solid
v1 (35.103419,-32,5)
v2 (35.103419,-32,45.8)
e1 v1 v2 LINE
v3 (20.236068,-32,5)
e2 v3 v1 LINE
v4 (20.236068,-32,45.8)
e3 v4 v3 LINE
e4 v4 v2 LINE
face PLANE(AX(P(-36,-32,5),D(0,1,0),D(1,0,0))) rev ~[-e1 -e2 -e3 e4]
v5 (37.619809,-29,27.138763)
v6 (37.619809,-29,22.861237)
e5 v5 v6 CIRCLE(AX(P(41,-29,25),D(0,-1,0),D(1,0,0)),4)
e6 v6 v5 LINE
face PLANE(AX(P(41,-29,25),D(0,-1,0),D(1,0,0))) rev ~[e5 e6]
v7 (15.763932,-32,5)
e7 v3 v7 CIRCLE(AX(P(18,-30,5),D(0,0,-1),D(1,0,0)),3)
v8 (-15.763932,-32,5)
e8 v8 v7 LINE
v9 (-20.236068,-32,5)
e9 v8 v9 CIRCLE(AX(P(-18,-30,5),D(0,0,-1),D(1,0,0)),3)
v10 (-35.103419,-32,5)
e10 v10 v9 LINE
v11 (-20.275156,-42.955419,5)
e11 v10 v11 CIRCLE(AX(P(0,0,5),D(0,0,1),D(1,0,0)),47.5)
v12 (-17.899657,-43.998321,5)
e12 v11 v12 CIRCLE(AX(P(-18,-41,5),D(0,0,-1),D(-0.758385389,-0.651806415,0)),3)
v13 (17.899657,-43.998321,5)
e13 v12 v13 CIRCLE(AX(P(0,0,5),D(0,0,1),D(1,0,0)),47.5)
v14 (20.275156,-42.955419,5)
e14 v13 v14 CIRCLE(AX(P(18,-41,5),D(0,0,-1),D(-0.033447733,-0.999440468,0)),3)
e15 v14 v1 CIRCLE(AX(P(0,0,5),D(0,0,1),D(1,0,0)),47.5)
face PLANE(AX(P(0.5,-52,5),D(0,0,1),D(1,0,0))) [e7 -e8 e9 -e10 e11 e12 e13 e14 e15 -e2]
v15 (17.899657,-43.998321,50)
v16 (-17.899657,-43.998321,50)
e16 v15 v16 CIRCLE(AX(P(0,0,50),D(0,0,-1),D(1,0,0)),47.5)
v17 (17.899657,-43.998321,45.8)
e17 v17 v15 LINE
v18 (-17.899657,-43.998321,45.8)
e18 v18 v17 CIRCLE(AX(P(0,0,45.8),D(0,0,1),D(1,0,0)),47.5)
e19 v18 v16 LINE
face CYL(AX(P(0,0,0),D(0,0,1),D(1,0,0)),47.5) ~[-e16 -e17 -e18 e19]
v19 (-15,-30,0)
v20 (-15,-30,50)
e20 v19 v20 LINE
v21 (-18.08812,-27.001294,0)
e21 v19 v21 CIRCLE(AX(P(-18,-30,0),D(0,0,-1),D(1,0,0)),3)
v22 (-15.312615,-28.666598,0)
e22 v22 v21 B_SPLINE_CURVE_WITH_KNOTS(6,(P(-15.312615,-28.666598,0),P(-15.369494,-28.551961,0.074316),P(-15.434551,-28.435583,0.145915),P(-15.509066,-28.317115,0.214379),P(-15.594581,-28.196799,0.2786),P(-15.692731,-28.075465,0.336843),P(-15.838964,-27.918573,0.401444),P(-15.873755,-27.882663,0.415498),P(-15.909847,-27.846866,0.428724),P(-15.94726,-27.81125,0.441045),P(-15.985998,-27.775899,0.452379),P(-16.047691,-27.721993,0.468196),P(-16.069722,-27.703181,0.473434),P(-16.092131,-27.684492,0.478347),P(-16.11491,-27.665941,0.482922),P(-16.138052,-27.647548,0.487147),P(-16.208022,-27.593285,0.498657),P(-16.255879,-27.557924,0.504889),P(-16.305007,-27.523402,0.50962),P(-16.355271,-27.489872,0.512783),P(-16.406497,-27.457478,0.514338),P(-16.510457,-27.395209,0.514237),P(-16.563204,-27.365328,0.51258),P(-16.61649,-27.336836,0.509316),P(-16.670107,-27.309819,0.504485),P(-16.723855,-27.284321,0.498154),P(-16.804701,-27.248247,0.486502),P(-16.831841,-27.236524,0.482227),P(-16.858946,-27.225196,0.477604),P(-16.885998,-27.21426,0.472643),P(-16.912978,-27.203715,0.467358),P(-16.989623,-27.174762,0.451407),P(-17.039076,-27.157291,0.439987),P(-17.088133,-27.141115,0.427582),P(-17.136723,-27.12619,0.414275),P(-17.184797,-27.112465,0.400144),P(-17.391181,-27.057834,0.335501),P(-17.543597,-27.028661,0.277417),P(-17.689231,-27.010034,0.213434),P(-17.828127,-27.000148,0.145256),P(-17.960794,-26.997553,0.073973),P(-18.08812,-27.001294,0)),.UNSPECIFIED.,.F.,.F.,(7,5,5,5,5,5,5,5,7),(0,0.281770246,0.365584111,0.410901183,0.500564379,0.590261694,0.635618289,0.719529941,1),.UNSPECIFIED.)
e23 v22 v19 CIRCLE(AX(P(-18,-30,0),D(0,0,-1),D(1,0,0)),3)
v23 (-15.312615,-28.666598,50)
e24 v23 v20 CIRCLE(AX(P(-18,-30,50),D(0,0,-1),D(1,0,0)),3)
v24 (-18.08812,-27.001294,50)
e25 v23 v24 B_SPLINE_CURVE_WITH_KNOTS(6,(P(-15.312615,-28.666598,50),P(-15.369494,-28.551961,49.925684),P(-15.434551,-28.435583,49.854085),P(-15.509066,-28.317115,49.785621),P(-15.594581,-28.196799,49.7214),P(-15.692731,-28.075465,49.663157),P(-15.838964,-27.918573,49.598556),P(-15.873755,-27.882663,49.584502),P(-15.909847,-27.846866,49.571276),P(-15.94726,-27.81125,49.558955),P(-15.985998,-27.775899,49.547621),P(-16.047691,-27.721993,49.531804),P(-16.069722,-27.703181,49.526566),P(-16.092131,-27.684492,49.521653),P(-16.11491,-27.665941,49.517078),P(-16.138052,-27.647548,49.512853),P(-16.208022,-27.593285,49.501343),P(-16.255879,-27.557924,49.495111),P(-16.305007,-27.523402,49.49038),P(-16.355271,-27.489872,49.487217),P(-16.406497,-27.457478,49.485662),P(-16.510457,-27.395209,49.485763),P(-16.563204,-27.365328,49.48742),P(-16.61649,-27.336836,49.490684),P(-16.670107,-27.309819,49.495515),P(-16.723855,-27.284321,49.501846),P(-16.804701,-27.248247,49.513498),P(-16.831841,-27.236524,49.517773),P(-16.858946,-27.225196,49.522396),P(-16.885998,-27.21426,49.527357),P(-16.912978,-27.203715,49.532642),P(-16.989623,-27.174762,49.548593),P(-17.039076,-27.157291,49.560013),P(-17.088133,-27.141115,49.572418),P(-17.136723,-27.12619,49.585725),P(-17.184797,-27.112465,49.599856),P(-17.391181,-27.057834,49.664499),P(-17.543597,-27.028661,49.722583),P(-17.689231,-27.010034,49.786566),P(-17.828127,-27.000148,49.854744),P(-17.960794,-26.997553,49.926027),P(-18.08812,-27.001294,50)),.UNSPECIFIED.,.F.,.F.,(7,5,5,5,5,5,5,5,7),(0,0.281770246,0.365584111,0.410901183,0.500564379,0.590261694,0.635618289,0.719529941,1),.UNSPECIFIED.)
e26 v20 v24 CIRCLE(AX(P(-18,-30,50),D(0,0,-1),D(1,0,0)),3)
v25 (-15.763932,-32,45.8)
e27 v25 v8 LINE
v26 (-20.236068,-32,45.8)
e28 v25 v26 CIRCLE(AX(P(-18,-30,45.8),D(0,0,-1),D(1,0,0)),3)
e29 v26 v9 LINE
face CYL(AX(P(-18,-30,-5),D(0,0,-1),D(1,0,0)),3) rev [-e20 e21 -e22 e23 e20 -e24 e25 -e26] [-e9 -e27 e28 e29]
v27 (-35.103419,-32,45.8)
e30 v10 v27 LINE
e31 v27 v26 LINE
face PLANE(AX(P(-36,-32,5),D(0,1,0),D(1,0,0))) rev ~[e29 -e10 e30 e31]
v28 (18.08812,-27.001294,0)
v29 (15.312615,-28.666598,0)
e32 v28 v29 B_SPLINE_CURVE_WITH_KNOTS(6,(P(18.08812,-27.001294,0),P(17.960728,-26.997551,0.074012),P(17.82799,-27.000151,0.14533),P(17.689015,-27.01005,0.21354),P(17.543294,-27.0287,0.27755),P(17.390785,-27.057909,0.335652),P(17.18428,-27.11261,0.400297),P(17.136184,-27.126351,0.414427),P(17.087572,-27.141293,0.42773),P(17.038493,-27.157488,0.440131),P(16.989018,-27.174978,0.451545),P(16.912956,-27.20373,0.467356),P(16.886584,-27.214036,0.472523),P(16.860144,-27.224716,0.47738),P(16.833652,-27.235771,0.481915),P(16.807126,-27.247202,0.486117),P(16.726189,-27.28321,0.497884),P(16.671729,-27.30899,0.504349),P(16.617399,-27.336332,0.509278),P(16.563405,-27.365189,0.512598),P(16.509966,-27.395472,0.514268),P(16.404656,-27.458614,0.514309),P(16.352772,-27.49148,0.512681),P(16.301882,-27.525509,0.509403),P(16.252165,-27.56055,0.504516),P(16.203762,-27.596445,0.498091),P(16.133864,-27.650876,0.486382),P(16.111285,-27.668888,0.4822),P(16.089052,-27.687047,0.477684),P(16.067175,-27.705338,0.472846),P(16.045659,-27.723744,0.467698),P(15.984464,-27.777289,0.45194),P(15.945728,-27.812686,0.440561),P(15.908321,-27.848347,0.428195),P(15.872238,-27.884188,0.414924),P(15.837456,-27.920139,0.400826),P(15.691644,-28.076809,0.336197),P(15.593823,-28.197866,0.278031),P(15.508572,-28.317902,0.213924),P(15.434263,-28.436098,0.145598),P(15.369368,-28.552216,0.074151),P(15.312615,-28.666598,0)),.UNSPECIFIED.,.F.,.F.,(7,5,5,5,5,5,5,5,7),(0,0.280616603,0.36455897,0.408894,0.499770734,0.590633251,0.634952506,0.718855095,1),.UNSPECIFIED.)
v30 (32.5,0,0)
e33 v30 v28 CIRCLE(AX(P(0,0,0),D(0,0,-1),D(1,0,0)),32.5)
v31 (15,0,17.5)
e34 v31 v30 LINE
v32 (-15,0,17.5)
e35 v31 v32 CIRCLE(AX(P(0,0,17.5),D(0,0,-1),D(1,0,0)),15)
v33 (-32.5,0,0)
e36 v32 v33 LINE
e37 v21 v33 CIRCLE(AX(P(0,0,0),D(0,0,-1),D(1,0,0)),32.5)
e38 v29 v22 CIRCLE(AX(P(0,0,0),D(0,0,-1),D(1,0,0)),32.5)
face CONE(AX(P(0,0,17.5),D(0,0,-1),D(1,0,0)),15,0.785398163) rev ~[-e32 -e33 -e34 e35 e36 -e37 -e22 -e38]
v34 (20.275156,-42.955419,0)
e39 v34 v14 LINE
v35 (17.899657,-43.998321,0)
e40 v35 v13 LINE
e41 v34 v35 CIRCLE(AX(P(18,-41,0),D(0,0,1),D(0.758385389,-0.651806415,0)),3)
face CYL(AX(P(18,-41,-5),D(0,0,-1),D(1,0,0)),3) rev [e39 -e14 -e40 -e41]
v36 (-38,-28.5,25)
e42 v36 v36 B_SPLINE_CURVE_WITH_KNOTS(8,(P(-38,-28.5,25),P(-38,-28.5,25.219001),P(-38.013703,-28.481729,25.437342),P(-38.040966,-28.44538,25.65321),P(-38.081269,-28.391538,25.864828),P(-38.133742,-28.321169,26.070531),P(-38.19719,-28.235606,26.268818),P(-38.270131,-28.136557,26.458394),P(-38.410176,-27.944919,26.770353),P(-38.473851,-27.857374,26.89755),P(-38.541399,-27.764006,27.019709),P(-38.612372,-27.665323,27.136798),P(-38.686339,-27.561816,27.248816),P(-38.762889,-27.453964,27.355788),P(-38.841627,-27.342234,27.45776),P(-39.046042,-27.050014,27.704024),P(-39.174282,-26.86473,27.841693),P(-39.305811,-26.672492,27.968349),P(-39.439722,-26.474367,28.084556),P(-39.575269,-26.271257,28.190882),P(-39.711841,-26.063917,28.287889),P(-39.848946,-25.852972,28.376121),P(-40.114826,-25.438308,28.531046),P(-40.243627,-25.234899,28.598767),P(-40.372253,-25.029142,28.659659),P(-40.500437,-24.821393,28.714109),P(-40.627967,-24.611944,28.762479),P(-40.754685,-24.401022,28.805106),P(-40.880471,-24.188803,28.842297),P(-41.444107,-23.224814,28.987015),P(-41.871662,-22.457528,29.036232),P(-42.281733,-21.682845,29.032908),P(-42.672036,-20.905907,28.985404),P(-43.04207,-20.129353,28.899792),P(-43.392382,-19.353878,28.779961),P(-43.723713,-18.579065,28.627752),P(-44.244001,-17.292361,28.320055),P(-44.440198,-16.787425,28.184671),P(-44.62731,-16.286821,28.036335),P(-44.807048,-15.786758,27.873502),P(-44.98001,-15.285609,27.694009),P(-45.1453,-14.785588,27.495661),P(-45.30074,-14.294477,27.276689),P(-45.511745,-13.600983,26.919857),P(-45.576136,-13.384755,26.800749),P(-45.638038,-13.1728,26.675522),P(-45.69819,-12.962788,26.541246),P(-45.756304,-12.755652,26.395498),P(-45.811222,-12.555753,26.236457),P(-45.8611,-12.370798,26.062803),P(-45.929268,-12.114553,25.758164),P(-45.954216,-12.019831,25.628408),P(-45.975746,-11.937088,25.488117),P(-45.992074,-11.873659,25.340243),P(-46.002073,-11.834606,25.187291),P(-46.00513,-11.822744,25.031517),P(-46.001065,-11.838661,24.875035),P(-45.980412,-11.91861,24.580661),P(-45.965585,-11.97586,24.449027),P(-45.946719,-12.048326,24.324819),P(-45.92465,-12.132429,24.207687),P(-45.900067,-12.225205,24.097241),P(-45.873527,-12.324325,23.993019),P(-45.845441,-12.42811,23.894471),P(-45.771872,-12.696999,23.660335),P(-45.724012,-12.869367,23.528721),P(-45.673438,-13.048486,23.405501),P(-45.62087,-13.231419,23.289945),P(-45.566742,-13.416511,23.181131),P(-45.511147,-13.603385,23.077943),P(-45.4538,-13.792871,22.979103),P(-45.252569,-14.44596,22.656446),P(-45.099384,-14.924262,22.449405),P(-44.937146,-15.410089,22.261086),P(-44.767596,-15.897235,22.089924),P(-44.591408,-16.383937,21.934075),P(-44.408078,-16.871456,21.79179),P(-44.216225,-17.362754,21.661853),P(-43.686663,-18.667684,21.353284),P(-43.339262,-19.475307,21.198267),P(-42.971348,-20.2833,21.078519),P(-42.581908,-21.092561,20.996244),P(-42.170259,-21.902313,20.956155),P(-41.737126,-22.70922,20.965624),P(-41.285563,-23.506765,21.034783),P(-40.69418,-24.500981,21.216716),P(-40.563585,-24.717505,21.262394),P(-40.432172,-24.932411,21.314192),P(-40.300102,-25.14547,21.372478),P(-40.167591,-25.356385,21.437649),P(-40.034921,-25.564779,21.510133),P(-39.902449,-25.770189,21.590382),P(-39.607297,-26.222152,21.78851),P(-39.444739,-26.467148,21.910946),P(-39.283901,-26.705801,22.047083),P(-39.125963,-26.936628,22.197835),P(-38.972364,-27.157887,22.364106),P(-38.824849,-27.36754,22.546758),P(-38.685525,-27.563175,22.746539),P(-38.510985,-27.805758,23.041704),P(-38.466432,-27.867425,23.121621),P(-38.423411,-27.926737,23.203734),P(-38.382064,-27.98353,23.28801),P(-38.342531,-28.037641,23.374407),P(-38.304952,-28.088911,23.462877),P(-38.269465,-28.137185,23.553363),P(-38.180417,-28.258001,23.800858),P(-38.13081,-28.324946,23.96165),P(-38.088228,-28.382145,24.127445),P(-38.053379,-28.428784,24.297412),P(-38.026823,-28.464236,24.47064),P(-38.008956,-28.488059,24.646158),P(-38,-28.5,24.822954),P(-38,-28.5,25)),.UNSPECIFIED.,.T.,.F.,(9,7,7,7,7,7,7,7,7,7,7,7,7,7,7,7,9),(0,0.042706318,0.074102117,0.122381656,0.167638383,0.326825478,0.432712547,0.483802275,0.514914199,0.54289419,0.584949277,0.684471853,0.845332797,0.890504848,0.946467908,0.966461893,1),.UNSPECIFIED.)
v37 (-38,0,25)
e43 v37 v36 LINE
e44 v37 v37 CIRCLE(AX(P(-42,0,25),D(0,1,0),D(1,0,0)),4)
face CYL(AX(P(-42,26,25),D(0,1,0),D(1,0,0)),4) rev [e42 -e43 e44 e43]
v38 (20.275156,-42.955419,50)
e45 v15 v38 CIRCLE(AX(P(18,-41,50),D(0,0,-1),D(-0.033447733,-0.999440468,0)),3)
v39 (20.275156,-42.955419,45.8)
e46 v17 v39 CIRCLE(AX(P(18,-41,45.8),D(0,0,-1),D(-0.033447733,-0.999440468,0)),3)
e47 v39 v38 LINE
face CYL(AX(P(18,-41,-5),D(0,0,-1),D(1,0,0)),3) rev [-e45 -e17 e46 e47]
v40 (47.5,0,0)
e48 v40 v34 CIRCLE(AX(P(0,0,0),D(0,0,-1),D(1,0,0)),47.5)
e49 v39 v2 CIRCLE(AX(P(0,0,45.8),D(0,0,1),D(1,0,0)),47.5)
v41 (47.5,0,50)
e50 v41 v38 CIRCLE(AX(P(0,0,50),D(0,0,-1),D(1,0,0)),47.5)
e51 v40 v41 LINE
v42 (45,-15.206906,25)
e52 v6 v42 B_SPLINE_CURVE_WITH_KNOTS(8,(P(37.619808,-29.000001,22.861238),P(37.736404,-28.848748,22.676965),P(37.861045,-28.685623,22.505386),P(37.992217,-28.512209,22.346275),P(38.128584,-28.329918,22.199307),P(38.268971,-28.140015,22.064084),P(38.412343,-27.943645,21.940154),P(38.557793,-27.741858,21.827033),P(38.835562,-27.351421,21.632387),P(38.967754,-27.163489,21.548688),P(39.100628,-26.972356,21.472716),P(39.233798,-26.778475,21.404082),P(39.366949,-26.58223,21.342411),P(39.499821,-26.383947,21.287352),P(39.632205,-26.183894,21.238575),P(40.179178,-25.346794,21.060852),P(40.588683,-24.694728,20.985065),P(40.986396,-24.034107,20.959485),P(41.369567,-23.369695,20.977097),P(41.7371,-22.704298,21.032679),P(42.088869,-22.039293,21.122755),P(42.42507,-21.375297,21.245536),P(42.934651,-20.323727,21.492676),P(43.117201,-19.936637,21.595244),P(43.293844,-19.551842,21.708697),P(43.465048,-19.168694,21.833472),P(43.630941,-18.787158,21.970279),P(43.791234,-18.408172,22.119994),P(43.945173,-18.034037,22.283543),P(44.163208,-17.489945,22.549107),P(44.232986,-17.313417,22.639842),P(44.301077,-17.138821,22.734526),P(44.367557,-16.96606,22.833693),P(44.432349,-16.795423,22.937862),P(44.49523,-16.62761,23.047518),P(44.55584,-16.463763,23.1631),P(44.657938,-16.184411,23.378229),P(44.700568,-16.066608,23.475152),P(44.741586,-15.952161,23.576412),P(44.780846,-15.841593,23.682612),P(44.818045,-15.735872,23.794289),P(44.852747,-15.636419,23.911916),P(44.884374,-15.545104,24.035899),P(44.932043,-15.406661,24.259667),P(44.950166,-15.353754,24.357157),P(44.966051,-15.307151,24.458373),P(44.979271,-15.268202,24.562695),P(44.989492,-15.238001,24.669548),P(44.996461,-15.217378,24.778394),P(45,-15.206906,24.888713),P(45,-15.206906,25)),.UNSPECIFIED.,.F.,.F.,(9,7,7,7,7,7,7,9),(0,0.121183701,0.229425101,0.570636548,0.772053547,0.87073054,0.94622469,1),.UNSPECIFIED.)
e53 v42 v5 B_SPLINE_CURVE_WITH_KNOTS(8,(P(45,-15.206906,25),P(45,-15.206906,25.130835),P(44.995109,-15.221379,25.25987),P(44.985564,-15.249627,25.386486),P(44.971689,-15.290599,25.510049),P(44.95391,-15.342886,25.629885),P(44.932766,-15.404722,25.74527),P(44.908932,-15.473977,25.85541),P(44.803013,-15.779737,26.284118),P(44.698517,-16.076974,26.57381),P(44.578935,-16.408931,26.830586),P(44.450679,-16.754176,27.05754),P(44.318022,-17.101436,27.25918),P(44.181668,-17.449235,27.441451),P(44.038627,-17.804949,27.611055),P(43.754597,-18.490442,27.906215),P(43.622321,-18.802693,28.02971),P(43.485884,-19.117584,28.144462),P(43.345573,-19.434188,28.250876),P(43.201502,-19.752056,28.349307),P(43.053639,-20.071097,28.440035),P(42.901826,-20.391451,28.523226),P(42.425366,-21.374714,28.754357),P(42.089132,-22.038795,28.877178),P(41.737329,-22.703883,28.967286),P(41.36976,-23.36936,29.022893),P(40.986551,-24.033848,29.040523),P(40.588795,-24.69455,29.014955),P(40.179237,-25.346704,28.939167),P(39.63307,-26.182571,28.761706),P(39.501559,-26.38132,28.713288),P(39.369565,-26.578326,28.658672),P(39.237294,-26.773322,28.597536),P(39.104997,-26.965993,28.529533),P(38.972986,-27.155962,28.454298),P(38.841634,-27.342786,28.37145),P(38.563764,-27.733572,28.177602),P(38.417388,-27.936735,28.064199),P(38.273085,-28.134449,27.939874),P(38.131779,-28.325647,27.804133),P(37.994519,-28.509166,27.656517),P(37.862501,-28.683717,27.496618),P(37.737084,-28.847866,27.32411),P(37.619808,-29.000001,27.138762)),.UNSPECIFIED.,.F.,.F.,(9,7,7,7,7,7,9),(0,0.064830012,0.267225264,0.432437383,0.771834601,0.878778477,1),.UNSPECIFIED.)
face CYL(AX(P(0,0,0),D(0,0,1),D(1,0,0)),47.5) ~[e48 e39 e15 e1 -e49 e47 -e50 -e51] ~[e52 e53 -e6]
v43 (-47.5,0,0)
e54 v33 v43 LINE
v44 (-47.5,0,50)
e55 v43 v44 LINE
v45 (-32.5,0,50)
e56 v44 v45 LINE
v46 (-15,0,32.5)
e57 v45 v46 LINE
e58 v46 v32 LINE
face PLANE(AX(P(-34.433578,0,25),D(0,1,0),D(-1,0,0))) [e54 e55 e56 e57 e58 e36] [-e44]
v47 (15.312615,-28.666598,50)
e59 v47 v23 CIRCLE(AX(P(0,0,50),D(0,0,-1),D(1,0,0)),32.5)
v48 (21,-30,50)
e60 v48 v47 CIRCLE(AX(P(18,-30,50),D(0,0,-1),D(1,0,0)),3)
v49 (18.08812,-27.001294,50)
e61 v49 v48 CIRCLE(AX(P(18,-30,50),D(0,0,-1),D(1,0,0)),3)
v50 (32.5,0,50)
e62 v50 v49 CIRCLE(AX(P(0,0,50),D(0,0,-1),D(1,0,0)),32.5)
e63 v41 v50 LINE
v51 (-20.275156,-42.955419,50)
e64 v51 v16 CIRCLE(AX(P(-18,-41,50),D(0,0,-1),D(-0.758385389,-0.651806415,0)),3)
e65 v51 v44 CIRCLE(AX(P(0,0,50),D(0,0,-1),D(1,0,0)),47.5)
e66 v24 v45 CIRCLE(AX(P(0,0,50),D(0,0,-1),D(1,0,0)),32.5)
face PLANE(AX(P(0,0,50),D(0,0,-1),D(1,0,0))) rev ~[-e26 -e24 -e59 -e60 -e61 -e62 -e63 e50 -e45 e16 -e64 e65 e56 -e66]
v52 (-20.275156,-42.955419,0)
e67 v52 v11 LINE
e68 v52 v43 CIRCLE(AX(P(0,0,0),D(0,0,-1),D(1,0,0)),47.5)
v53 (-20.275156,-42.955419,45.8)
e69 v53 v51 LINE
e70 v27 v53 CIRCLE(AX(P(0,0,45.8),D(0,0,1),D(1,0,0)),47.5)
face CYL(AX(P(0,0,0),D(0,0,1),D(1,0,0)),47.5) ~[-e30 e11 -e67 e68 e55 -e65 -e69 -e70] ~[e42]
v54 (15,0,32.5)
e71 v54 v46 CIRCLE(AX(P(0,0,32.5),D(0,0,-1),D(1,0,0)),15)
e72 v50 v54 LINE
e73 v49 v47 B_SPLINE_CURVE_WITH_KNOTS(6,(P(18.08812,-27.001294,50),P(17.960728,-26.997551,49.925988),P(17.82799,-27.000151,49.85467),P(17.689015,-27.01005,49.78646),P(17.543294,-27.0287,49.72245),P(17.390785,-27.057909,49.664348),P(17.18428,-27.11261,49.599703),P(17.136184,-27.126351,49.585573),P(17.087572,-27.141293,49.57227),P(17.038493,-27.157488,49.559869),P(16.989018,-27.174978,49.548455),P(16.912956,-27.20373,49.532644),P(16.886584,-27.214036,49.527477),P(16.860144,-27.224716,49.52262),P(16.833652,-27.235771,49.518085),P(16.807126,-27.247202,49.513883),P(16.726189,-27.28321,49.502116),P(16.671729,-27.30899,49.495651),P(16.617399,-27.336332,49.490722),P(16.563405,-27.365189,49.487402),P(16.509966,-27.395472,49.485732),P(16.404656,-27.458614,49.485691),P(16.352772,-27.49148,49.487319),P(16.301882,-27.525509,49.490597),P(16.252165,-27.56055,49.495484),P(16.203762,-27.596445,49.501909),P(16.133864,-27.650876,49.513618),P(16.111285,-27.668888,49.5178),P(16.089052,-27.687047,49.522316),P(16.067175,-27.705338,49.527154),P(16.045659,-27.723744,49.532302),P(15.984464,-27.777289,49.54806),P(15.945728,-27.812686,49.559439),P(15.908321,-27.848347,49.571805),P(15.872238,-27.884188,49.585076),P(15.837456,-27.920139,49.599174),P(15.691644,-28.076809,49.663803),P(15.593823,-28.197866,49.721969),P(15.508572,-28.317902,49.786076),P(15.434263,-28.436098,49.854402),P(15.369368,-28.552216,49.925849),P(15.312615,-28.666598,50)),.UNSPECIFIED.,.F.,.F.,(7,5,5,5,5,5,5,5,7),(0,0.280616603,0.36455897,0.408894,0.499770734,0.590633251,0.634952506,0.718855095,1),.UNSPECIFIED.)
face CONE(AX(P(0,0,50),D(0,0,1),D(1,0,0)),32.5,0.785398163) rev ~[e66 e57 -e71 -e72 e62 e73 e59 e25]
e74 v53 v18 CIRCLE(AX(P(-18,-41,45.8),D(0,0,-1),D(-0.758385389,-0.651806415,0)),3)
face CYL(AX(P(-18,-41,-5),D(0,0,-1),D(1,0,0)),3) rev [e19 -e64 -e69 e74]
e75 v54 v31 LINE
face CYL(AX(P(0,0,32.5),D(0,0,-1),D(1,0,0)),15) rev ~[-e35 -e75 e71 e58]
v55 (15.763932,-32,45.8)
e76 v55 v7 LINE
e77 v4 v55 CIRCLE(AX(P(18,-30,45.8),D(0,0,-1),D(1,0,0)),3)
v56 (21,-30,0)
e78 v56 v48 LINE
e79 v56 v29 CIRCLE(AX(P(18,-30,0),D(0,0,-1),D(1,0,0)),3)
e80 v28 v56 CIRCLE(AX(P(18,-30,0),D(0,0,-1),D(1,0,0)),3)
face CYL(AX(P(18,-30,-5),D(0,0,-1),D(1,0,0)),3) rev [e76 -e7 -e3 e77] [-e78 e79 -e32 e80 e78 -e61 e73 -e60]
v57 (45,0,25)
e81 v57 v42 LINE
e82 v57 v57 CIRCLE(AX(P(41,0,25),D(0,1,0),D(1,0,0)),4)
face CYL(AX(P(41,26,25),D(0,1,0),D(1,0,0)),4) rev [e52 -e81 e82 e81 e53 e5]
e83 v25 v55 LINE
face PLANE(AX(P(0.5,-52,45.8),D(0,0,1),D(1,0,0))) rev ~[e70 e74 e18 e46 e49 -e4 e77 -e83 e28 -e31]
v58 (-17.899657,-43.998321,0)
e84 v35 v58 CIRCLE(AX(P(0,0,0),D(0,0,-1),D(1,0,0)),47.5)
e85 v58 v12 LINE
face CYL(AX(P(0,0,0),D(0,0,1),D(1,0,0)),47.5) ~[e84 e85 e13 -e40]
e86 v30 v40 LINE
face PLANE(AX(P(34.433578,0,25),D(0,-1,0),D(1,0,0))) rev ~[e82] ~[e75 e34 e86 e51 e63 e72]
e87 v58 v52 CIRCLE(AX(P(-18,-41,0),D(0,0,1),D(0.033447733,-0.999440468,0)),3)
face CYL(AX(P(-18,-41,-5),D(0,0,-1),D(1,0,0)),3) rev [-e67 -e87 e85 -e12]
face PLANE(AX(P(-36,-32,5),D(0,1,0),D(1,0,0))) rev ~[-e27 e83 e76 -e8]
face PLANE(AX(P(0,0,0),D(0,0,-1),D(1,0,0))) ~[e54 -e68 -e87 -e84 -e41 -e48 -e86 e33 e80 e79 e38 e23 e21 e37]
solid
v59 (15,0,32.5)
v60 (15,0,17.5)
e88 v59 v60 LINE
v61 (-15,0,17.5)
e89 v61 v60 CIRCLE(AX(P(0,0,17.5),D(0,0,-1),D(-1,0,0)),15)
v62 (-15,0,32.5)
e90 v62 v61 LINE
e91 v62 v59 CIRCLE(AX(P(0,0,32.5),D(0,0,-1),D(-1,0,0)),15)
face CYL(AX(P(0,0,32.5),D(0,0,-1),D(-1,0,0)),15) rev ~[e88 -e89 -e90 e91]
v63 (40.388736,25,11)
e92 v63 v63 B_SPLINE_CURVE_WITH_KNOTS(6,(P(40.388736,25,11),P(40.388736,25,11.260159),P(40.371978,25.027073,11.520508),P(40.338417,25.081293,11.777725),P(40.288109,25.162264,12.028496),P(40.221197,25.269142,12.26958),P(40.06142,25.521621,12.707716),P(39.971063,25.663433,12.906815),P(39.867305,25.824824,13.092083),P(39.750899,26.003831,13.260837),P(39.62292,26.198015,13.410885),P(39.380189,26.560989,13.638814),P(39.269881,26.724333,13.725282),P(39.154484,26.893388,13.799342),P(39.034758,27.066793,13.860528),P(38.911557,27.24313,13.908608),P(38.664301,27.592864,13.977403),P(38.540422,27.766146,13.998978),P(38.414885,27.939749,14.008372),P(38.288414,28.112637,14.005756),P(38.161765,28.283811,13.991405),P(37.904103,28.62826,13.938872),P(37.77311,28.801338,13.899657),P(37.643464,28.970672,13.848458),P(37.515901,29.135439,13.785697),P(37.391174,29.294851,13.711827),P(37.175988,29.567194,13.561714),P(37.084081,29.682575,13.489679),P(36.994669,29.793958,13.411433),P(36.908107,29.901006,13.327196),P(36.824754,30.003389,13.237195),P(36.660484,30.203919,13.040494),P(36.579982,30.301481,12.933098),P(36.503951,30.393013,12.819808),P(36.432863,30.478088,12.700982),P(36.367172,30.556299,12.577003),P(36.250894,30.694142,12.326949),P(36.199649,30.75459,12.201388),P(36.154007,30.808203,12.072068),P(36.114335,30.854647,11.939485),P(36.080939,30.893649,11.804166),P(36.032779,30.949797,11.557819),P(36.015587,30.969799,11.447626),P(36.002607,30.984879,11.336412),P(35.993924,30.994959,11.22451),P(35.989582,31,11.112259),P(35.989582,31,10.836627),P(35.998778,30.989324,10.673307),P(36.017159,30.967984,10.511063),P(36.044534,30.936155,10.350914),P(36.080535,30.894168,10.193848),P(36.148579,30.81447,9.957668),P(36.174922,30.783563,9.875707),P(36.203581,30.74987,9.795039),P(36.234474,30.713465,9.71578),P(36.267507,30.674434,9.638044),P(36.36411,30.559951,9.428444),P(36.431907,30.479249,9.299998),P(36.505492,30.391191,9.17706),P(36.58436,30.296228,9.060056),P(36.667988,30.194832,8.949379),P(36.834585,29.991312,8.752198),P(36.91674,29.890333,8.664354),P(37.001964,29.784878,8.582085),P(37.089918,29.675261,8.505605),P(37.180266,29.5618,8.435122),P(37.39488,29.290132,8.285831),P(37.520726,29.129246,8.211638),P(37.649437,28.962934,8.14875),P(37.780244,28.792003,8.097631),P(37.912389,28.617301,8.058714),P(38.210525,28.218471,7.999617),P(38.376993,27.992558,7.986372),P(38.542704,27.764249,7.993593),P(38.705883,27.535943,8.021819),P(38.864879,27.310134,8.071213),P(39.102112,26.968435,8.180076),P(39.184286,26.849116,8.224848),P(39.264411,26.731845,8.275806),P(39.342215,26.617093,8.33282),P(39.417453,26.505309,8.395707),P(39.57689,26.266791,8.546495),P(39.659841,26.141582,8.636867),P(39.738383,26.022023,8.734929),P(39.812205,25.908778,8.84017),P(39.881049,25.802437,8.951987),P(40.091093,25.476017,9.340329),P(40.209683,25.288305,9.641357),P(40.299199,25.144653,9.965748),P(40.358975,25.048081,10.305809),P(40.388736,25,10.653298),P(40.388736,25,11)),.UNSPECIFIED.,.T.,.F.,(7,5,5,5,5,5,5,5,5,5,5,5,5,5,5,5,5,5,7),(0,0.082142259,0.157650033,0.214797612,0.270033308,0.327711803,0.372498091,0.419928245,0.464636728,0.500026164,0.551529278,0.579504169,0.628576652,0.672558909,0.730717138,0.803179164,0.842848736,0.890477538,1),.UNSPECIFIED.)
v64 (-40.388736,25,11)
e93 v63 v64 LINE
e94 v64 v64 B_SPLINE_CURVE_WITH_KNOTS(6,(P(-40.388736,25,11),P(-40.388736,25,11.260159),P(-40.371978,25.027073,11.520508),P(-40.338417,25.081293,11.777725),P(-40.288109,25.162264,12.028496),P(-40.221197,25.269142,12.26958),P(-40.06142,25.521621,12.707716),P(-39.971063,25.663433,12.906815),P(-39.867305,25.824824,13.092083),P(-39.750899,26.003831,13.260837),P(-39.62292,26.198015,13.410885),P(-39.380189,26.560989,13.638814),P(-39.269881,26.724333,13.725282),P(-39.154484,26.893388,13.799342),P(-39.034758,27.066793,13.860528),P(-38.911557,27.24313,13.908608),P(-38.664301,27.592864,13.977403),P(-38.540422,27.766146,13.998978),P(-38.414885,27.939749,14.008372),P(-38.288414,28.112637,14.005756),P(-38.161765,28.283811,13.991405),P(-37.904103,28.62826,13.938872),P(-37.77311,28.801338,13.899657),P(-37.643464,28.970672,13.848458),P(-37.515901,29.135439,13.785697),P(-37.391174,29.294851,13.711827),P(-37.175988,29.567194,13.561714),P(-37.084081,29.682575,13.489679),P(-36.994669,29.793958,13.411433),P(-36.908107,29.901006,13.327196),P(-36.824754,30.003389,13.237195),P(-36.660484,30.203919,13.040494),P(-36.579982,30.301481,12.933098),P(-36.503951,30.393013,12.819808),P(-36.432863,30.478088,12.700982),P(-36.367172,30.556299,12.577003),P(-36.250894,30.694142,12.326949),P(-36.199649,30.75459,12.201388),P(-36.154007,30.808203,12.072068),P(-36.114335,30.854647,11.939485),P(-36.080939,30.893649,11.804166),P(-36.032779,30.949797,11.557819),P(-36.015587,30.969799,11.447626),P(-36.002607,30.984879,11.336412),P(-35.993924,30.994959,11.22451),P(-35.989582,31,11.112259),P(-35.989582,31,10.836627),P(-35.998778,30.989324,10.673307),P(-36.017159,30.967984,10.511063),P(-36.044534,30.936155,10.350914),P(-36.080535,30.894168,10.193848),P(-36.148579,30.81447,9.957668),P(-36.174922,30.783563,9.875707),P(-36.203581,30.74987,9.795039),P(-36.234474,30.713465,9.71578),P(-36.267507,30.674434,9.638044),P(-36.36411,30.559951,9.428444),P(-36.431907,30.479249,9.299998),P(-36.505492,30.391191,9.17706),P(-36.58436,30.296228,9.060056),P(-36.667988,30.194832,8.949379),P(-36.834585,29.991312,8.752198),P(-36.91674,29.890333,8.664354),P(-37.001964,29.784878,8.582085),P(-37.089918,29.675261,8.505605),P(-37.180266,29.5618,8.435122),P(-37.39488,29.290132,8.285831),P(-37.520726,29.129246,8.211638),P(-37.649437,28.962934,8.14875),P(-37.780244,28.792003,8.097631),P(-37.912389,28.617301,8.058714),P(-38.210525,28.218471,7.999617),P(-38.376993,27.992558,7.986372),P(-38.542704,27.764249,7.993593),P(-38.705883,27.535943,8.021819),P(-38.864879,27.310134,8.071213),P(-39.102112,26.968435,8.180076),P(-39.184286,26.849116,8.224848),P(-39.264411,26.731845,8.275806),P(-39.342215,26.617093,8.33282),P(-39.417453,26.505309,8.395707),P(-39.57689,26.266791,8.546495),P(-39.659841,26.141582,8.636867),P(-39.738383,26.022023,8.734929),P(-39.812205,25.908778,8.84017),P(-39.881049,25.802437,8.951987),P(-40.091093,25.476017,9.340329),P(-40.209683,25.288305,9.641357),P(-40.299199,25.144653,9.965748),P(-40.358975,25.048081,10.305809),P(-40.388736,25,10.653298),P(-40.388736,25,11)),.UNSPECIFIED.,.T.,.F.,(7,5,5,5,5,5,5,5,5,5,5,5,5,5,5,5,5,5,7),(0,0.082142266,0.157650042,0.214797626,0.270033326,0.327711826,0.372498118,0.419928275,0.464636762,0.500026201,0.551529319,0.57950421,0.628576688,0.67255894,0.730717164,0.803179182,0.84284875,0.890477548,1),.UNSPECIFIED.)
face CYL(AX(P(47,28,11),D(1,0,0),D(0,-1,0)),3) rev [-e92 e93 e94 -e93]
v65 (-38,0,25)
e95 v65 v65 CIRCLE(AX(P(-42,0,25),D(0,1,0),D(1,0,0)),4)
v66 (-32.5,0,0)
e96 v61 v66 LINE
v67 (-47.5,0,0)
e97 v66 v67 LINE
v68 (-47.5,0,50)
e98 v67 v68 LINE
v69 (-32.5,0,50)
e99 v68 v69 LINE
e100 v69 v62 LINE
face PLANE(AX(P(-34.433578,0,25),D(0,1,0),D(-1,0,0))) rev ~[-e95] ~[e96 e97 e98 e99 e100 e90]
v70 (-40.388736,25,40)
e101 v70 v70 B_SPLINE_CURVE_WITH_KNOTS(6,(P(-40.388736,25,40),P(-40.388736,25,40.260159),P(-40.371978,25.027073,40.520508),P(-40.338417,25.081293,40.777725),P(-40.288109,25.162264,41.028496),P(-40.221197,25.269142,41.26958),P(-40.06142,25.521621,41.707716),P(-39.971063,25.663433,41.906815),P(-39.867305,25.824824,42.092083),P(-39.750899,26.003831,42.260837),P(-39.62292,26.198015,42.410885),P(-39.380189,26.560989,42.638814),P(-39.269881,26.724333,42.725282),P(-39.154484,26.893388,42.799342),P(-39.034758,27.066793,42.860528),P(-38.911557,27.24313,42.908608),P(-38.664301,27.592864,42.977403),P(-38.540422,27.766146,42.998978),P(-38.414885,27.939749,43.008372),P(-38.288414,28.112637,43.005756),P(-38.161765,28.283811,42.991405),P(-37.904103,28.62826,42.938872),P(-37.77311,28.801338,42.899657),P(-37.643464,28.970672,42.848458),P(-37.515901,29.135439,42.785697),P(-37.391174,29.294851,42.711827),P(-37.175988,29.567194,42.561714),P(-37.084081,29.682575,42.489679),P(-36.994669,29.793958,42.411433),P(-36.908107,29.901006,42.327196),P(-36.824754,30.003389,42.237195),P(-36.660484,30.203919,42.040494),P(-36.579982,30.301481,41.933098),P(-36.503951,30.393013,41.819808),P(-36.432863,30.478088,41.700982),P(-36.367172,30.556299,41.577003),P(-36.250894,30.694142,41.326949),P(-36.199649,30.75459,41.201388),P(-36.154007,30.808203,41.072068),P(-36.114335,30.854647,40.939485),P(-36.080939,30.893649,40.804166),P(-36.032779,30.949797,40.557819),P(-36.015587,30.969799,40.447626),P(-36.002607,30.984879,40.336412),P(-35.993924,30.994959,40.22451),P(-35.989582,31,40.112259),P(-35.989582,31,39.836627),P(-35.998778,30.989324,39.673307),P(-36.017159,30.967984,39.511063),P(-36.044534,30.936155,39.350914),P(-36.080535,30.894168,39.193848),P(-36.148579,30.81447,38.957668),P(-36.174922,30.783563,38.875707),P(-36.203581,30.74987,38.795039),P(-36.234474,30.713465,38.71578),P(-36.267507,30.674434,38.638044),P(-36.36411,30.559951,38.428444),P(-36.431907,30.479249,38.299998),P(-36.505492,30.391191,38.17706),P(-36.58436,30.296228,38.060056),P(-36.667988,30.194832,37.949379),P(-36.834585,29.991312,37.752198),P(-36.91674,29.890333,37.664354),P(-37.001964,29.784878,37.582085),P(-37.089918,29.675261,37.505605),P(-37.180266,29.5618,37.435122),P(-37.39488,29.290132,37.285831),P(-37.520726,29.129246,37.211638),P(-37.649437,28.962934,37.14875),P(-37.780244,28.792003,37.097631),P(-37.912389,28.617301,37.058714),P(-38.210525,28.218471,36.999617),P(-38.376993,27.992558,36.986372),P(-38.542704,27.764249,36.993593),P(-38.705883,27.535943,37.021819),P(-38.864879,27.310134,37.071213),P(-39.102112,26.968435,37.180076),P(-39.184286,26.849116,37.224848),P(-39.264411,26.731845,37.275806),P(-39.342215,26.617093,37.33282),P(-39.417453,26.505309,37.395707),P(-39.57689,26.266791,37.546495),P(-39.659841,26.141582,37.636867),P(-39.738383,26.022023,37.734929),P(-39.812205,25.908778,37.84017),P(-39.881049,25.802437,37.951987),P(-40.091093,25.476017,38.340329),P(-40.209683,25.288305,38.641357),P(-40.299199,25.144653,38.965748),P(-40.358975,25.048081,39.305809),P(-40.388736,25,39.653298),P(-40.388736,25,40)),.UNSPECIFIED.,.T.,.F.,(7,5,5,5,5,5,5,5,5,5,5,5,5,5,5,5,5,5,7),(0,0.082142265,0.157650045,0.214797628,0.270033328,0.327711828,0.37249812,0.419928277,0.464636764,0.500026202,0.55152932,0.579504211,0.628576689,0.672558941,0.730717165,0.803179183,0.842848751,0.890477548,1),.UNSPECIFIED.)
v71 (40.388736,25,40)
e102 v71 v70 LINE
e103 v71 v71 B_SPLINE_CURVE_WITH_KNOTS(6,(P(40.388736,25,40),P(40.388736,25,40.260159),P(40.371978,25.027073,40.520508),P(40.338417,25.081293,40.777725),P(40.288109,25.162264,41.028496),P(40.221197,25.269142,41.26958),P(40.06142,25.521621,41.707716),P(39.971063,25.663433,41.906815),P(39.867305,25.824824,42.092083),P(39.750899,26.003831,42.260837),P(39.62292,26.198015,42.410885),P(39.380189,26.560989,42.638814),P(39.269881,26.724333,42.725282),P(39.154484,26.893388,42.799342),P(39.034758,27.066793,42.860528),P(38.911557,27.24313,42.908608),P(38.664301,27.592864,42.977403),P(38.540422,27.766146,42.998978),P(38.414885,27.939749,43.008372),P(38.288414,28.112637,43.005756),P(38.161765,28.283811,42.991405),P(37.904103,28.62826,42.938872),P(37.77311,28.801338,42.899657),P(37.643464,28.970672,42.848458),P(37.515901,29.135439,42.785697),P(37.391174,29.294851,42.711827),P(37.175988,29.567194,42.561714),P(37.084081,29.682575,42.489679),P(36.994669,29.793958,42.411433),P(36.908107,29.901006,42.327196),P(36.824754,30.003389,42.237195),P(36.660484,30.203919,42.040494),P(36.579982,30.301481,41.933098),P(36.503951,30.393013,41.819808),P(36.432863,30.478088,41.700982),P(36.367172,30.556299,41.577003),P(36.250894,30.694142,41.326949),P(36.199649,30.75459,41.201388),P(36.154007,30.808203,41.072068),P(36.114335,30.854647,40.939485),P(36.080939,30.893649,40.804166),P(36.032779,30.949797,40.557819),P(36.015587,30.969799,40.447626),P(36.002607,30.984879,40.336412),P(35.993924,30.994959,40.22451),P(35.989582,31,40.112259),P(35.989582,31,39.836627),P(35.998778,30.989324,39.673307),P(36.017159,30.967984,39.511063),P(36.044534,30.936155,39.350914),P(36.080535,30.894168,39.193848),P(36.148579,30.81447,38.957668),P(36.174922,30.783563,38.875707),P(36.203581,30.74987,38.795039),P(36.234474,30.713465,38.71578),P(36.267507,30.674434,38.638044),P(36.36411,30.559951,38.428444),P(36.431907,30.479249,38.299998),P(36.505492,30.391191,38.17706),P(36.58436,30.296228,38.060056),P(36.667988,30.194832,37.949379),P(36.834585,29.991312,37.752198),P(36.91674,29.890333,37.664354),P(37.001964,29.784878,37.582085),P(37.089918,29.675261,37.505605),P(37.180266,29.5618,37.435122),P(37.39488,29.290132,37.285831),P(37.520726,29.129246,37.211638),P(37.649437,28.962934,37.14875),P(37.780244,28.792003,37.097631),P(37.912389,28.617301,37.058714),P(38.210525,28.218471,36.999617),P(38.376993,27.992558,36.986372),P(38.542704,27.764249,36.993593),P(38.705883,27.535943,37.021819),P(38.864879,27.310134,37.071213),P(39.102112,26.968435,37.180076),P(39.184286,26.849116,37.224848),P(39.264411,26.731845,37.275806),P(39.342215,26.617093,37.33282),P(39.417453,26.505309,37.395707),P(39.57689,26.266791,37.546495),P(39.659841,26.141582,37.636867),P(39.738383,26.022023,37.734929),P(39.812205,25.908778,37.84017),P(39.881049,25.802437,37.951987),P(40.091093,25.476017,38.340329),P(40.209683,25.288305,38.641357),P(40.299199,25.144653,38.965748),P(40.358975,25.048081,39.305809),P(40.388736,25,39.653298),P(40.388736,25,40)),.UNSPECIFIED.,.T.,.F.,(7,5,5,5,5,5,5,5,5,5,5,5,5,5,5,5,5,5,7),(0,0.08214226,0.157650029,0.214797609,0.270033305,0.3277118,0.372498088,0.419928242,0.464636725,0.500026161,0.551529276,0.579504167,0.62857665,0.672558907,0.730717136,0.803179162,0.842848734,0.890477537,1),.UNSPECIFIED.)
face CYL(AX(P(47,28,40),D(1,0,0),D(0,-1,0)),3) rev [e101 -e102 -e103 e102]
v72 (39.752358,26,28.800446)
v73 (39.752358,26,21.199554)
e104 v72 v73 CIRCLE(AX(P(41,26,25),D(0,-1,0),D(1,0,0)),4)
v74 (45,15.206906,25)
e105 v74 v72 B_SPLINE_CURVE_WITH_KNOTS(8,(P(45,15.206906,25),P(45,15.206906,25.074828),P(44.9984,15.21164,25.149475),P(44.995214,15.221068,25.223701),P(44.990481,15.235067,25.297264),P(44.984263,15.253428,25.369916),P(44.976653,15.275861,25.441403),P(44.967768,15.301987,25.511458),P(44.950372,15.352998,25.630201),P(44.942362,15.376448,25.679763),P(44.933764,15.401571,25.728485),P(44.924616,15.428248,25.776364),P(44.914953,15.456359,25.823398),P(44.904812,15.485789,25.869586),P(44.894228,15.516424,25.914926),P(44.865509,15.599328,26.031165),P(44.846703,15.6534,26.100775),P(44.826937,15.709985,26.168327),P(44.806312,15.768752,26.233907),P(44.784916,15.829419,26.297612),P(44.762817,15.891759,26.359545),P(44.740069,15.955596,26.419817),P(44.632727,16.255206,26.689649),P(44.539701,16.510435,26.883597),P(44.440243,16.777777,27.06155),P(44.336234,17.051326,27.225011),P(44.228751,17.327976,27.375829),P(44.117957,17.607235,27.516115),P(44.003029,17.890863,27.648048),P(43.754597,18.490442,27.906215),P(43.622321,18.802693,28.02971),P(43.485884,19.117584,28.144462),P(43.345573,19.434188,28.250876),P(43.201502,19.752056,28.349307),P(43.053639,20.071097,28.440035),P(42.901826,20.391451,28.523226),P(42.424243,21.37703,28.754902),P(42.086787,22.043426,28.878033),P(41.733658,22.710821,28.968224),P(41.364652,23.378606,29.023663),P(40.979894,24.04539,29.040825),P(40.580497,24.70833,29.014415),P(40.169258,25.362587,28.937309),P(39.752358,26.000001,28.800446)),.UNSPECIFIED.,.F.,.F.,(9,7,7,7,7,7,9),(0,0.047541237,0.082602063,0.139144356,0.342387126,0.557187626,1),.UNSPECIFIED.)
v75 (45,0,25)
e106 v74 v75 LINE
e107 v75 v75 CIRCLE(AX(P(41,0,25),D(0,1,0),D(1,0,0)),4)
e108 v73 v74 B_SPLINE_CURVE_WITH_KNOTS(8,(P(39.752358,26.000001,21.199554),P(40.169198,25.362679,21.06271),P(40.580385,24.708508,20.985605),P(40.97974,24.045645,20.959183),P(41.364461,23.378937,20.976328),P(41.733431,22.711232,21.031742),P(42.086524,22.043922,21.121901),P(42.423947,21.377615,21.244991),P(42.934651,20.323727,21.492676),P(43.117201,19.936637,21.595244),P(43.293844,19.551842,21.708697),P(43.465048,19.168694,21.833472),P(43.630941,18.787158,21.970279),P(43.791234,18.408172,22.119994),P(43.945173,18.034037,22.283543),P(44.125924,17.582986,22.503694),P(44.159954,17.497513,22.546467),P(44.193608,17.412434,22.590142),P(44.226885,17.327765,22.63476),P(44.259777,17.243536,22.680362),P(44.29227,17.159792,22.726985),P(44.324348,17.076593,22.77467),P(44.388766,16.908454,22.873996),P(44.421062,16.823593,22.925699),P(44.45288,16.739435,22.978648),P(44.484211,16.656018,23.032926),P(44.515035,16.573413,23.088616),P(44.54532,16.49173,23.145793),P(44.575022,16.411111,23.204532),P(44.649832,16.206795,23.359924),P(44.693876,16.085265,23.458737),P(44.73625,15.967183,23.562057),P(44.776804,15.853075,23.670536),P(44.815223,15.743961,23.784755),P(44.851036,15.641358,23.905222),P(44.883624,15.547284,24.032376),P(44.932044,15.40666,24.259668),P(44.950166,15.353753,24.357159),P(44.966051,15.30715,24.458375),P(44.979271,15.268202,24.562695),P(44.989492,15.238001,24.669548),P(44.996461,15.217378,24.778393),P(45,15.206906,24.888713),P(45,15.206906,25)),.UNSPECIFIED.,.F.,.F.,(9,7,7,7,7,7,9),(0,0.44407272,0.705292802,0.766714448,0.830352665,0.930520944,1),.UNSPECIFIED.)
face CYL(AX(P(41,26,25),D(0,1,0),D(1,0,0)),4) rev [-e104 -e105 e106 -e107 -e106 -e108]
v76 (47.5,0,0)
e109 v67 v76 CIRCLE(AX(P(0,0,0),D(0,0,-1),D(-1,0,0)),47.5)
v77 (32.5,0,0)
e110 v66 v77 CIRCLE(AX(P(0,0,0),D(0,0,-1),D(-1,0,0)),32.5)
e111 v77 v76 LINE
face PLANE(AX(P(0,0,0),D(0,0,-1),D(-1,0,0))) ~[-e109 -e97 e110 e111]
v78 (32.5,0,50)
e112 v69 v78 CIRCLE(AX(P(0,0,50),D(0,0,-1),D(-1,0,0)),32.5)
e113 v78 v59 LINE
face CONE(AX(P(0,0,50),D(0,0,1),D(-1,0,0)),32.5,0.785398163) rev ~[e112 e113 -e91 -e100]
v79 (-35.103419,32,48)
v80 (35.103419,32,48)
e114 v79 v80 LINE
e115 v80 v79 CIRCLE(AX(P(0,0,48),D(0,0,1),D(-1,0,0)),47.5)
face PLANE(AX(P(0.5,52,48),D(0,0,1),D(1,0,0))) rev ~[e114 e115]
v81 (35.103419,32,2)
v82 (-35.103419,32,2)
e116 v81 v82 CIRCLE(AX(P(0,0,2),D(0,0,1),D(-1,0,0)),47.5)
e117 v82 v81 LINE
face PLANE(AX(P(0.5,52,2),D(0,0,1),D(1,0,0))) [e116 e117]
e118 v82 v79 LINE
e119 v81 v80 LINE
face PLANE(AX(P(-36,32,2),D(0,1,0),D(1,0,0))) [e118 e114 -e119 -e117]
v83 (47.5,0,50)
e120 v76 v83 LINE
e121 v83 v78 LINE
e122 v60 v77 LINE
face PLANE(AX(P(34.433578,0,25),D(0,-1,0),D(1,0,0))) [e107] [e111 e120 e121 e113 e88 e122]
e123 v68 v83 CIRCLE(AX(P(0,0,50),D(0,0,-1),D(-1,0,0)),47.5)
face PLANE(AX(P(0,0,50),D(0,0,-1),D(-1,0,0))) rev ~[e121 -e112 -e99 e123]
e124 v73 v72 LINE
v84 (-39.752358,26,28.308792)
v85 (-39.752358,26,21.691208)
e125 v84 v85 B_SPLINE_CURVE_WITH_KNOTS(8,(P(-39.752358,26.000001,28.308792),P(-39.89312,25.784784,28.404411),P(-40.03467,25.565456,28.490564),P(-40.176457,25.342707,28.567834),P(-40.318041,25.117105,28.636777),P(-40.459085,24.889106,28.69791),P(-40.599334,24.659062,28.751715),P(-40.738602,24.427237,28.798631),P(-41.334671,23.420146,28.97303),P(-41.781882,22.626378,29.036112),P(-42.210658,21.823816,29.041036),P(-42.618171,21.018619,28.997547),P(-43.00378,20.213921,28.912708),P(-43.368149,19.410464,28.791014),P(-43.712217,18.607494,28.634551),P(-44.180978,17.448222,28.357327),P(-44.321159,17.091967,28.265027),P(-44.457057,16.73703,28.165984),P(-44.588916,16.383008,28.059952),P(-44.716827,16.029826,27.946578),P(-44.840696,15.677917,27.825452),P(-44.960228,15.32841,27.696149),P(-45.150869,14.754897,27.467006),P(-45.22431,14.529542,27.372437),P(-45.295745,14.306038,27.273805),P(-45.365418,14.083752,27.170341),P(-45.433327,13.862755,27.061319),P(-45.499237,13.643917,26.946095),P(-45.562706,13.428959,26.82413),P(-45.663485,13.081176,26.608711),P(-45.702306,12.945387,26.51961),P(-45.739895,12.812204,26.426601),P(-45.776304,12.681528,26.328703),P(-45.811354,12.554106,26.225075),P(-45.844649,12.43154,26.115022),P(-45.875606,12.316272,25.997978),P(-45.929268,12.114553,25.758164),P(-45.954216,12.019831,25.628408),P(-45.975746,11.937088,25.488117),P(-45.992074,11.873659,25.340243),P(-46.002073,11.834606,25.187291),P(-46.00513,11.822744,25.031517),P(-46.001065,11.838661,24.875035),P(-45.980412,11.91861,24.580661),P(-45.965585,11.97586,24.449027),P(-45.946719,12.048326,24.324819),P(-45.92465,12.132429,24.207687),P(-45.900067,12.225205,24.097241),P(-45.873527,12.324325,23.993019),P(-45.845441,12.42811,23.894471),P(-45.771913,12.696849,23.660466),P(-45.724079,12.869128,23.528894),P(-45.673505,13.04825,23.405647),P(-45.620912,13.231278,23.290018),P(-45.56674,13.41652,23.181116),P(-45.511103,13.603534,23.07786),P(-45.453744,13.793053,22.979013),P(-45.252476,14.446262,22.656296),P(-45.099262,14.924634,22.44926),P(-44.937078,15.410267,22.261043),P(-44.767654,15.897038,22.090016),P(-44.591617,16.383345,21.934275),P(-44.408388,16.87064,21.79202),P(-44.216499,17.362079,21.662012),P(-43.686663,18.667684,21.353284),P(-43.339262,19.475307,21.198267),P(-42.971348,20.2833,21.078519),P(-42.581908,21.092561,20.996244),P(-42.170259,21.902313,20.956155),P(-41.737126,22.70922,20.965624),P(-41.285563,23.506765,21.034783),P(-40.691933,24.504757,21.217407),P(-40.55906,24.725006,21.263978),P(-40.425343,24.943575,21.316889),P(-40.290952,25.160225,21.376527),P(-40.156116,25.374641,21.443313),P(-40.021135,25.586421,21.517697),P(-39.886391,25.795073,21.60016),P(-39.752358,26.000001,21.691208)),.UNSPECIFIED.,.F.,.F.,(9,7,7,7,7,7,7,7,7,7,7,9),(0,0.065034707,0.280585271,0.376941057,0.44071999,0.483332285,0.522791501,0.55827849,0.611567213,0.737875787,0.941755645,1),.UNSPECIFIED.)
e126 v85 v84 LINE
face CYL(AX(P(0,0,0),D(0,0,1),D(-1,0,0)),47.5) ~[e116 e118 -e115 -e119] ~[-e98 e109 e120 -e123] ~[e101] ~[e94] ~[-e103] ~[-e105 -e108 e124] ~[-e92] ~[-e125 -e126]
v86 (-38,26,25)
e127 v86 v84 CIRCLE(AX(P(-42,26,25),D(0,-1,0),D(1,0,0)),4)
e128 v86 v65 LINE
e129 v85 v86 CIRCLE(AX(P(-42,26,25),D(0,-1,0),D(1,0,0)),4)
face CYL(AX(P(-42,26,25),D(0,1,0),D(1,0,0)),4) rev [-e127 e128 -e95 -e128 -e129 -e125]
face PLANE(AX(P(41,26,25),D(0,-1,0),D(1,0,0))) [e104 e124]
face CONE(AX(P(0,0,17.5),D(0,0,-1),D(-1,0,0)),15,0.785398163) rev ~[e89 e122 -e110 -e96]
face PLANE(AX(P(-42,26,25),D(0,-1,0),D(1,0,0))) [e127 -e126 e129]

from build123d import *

# Parameters (mm, degrees)
CYLINDER002_R          = 4
CYLINDER002_DEPTH      = 55
CYLINDER002_ROLL_ANGLE = 90
CYLINDER005_R          = 4
CYLINDER005_DEPTH      = 55
CYLINDER005_ROLL_ANGLE = 90
CYLINDER003_R          = 3
CYLINDER003_DEPTH      = 100
CYLINDER004_R          = 3
CYLINDER004_DEPTH      = 100
BOX001_W               = 73
BOX001_H               = 40
BOX001_DEPTH           = 46
REVOLUTION_ANGLE       = -180
CLONE_PLACEMENT_ANGLE  = 180
CYLINDER001_R          = 3
CYLINDER001_DEPTH      = 60
CYLINDER_R             = 3
CYLINDER_DEPTH         = 60
BOX_W                  = 73
BOX_H                  = 40
BOX_DEPTH              = 40.8


with BuildPart() as cilindro002:
    # Cylinder002 → Cylinder002 (new body)
    with BuildSketch(Plane.XY):
        Circle(CYLINDER002_R)
    extrude(amount=CYLINDER002_DEPTH)


with BuildPart() as cilindro002_1:
    # Cylinder002 roll: moved
    add(cilindro002.part.rotate(Axis((0, 0, 0), (1, 0, 0)), CYLINDER002_ROLL_ANGLE))


with BuildPart() as cilindro002_2:
    # Cylinder002 placement: moved
    add(cilindro002_1.part.moved(Location((41, 26, 25))))


with BuildPart() as fusion004:
    # Cylinder005 → Cylinder005 (new body)
    with BuildSketch(Plane.XY):
        Circle(CYLINDER005_R)
    extrude(amount=CYLINDER005_DEPTH)


with BuildPart() as fusion004_1:
    # Cylinder005 roll: moved
    add(fusion004.part.rotate(Axis((0, 0, 0), (1, 0, 0)), CYLINDER005_ROLL_ANGLE))


with BuildPart() as fusion004_2:
    # Cylinder005 placement: moved
    add(fusion004_1.part.moved(Location((-42, 26, 25))))

    # Fusion004: union Cilindro002
    add(cilindro002_2.part)


with BuildPart() as cilindro003:
    # Cylinder003 → Cylinder003 (new body)
    with BuildSketch(Plane(origin=(47, 28, 40), x_dir=(0, -1, 0), z_dir=(-1, 0, 0))):
        Circle(CYLINDER003_R)
    extrude(amount=CYLINDER003_DEPTH)


with BuildPart() as fusion003:
    # Cylinder004 → Cylinder004 (new body)
    with BuildSketch(Plane(origin=(47, 28, 11), x_dir=(0, -1, 0), z_dir=(-1, 0, 0))):
        Circle(CYLINDER004_R)
    extrude(amount=CYLINDER004_DEPTH)

    # Fusion003: union Cilindro003
    add(cilindro003.part)


with BuildPart() as cubo001:
    # Box001 → Box001 (new body)
    with BuildSketch(Plane(origin=(-36, 32, 2), x_dir=(1, 0, 0), z_dir=(0, 0, 1))):
        with Locations((36.5, 20)):
            Rectangle(BOX001_W, BOX001_H)
    extrude(amount=BOX001_DEPTH)


with BuildPart() as revolution:
    # Sketch → Revolution (revolve)
    with BuildSketch(Plane.XZ):
        Polygon((32.5, 50), (15, 32.5), (15, 17.5), (32.5, 0), (47.5, 0), (47.5, 50), align=None)
    revolve(axis=Axis((0, 0, 0), (0, 0, 1)), revolution_arc=REVOLUTION_ANGLE)


with BuildPart() as cut004:
    # Clone base: copy of Revolution
    add(revolution.part)


with BuildPart() as cut004_1:
    # Clone placement: moved
    add(cut004.part.rotate(Axis((0, 0, 0), (0, 0, 1)), CLONE_PLACEMENT_ANGLE))

    # Cut002: cut Cubo001
    add(cubo001.part, mode=Mode.SUBTRACT)

    # Cut003: cut Fusion003
    add(fusion003.part, mode=Mode.SUBTRACT)

    # Cut004: cut Fusion004
    add(fusion004_2.part, mode=Mode.SUBTRACT)


with BuildPart() as cilindro001:
    # Cylinder001 → Cylinder001 (new body)
    with BuildSketch(Plane(origin=(18, -28, -5), x_dir=(1, 0, 0), z_dir=(0, 0, 1))):
        Circle(CYLINDER001_R)
    extrude(amount=CYLINDER001_DEPTH)


with BuildPart() as cilindro:
    # Cylinder → Cylinder (new body)
    with BuildSketch(Plane(origin=(18, -39, -5), x_dir=(1, 0, 0), z_dir=(0, 0, 1))):
        Circle(CYLINDER_R)
    extrude(amount=CYLINDER_DEPTH)


with BuildPart() as fusion:
    # Fusion base: copy of Cilindro
    add(cilindro.part)

    # Fusion: union Cilindro001
    add(cilindro001.part)


with BuildPart() as fusion_1:
    # Fusion placement: moved
    add(fusion.part.moved(Location((-36, 0, 0))))


with BuildPart() as fusion002:
    # Fusion001 base: copy of Cilindro
    add(cilindro.part)

    # Fusion001: union Cilindro001
    add(cilindro001.part)

    # Fusion002: union Fusion
    add(fusion_1.part)


with BuildPart() as fusion002_1:
    # Fusion002 placement: moved
    add(fusion002.part.moved(Location((0, -2, 0))))


with BuildPart() as cubo:
    # Box → Box (new body)
    with BuildSketch(Plane(origin=(-36, -72, 5), x_dir=(1, 0, 0), z_dir=(0, 0, 1))):
        with Locations((36.5, 20)):
            Rectangle(BOX_W, BOX_H)
    extrude(amount=BOX_DEPTH)


with BuildPart() as cut005:
    # Cut base: copy of Revolution
    add(revolution.part)

    # Cut: cut Cubo
    add(cubo.part, mode=Mode.SUBTRACT)

    # Cut001: cut Fusion002
    add(fusion002_1.part, mode=Mode.SUBTRACT)

    # Cut005: cut Fusion004
    add(fusion004_2.part, mode=Mode.SUBTRACT)


solid = Compound([cut004_1.part, cut005.part])
